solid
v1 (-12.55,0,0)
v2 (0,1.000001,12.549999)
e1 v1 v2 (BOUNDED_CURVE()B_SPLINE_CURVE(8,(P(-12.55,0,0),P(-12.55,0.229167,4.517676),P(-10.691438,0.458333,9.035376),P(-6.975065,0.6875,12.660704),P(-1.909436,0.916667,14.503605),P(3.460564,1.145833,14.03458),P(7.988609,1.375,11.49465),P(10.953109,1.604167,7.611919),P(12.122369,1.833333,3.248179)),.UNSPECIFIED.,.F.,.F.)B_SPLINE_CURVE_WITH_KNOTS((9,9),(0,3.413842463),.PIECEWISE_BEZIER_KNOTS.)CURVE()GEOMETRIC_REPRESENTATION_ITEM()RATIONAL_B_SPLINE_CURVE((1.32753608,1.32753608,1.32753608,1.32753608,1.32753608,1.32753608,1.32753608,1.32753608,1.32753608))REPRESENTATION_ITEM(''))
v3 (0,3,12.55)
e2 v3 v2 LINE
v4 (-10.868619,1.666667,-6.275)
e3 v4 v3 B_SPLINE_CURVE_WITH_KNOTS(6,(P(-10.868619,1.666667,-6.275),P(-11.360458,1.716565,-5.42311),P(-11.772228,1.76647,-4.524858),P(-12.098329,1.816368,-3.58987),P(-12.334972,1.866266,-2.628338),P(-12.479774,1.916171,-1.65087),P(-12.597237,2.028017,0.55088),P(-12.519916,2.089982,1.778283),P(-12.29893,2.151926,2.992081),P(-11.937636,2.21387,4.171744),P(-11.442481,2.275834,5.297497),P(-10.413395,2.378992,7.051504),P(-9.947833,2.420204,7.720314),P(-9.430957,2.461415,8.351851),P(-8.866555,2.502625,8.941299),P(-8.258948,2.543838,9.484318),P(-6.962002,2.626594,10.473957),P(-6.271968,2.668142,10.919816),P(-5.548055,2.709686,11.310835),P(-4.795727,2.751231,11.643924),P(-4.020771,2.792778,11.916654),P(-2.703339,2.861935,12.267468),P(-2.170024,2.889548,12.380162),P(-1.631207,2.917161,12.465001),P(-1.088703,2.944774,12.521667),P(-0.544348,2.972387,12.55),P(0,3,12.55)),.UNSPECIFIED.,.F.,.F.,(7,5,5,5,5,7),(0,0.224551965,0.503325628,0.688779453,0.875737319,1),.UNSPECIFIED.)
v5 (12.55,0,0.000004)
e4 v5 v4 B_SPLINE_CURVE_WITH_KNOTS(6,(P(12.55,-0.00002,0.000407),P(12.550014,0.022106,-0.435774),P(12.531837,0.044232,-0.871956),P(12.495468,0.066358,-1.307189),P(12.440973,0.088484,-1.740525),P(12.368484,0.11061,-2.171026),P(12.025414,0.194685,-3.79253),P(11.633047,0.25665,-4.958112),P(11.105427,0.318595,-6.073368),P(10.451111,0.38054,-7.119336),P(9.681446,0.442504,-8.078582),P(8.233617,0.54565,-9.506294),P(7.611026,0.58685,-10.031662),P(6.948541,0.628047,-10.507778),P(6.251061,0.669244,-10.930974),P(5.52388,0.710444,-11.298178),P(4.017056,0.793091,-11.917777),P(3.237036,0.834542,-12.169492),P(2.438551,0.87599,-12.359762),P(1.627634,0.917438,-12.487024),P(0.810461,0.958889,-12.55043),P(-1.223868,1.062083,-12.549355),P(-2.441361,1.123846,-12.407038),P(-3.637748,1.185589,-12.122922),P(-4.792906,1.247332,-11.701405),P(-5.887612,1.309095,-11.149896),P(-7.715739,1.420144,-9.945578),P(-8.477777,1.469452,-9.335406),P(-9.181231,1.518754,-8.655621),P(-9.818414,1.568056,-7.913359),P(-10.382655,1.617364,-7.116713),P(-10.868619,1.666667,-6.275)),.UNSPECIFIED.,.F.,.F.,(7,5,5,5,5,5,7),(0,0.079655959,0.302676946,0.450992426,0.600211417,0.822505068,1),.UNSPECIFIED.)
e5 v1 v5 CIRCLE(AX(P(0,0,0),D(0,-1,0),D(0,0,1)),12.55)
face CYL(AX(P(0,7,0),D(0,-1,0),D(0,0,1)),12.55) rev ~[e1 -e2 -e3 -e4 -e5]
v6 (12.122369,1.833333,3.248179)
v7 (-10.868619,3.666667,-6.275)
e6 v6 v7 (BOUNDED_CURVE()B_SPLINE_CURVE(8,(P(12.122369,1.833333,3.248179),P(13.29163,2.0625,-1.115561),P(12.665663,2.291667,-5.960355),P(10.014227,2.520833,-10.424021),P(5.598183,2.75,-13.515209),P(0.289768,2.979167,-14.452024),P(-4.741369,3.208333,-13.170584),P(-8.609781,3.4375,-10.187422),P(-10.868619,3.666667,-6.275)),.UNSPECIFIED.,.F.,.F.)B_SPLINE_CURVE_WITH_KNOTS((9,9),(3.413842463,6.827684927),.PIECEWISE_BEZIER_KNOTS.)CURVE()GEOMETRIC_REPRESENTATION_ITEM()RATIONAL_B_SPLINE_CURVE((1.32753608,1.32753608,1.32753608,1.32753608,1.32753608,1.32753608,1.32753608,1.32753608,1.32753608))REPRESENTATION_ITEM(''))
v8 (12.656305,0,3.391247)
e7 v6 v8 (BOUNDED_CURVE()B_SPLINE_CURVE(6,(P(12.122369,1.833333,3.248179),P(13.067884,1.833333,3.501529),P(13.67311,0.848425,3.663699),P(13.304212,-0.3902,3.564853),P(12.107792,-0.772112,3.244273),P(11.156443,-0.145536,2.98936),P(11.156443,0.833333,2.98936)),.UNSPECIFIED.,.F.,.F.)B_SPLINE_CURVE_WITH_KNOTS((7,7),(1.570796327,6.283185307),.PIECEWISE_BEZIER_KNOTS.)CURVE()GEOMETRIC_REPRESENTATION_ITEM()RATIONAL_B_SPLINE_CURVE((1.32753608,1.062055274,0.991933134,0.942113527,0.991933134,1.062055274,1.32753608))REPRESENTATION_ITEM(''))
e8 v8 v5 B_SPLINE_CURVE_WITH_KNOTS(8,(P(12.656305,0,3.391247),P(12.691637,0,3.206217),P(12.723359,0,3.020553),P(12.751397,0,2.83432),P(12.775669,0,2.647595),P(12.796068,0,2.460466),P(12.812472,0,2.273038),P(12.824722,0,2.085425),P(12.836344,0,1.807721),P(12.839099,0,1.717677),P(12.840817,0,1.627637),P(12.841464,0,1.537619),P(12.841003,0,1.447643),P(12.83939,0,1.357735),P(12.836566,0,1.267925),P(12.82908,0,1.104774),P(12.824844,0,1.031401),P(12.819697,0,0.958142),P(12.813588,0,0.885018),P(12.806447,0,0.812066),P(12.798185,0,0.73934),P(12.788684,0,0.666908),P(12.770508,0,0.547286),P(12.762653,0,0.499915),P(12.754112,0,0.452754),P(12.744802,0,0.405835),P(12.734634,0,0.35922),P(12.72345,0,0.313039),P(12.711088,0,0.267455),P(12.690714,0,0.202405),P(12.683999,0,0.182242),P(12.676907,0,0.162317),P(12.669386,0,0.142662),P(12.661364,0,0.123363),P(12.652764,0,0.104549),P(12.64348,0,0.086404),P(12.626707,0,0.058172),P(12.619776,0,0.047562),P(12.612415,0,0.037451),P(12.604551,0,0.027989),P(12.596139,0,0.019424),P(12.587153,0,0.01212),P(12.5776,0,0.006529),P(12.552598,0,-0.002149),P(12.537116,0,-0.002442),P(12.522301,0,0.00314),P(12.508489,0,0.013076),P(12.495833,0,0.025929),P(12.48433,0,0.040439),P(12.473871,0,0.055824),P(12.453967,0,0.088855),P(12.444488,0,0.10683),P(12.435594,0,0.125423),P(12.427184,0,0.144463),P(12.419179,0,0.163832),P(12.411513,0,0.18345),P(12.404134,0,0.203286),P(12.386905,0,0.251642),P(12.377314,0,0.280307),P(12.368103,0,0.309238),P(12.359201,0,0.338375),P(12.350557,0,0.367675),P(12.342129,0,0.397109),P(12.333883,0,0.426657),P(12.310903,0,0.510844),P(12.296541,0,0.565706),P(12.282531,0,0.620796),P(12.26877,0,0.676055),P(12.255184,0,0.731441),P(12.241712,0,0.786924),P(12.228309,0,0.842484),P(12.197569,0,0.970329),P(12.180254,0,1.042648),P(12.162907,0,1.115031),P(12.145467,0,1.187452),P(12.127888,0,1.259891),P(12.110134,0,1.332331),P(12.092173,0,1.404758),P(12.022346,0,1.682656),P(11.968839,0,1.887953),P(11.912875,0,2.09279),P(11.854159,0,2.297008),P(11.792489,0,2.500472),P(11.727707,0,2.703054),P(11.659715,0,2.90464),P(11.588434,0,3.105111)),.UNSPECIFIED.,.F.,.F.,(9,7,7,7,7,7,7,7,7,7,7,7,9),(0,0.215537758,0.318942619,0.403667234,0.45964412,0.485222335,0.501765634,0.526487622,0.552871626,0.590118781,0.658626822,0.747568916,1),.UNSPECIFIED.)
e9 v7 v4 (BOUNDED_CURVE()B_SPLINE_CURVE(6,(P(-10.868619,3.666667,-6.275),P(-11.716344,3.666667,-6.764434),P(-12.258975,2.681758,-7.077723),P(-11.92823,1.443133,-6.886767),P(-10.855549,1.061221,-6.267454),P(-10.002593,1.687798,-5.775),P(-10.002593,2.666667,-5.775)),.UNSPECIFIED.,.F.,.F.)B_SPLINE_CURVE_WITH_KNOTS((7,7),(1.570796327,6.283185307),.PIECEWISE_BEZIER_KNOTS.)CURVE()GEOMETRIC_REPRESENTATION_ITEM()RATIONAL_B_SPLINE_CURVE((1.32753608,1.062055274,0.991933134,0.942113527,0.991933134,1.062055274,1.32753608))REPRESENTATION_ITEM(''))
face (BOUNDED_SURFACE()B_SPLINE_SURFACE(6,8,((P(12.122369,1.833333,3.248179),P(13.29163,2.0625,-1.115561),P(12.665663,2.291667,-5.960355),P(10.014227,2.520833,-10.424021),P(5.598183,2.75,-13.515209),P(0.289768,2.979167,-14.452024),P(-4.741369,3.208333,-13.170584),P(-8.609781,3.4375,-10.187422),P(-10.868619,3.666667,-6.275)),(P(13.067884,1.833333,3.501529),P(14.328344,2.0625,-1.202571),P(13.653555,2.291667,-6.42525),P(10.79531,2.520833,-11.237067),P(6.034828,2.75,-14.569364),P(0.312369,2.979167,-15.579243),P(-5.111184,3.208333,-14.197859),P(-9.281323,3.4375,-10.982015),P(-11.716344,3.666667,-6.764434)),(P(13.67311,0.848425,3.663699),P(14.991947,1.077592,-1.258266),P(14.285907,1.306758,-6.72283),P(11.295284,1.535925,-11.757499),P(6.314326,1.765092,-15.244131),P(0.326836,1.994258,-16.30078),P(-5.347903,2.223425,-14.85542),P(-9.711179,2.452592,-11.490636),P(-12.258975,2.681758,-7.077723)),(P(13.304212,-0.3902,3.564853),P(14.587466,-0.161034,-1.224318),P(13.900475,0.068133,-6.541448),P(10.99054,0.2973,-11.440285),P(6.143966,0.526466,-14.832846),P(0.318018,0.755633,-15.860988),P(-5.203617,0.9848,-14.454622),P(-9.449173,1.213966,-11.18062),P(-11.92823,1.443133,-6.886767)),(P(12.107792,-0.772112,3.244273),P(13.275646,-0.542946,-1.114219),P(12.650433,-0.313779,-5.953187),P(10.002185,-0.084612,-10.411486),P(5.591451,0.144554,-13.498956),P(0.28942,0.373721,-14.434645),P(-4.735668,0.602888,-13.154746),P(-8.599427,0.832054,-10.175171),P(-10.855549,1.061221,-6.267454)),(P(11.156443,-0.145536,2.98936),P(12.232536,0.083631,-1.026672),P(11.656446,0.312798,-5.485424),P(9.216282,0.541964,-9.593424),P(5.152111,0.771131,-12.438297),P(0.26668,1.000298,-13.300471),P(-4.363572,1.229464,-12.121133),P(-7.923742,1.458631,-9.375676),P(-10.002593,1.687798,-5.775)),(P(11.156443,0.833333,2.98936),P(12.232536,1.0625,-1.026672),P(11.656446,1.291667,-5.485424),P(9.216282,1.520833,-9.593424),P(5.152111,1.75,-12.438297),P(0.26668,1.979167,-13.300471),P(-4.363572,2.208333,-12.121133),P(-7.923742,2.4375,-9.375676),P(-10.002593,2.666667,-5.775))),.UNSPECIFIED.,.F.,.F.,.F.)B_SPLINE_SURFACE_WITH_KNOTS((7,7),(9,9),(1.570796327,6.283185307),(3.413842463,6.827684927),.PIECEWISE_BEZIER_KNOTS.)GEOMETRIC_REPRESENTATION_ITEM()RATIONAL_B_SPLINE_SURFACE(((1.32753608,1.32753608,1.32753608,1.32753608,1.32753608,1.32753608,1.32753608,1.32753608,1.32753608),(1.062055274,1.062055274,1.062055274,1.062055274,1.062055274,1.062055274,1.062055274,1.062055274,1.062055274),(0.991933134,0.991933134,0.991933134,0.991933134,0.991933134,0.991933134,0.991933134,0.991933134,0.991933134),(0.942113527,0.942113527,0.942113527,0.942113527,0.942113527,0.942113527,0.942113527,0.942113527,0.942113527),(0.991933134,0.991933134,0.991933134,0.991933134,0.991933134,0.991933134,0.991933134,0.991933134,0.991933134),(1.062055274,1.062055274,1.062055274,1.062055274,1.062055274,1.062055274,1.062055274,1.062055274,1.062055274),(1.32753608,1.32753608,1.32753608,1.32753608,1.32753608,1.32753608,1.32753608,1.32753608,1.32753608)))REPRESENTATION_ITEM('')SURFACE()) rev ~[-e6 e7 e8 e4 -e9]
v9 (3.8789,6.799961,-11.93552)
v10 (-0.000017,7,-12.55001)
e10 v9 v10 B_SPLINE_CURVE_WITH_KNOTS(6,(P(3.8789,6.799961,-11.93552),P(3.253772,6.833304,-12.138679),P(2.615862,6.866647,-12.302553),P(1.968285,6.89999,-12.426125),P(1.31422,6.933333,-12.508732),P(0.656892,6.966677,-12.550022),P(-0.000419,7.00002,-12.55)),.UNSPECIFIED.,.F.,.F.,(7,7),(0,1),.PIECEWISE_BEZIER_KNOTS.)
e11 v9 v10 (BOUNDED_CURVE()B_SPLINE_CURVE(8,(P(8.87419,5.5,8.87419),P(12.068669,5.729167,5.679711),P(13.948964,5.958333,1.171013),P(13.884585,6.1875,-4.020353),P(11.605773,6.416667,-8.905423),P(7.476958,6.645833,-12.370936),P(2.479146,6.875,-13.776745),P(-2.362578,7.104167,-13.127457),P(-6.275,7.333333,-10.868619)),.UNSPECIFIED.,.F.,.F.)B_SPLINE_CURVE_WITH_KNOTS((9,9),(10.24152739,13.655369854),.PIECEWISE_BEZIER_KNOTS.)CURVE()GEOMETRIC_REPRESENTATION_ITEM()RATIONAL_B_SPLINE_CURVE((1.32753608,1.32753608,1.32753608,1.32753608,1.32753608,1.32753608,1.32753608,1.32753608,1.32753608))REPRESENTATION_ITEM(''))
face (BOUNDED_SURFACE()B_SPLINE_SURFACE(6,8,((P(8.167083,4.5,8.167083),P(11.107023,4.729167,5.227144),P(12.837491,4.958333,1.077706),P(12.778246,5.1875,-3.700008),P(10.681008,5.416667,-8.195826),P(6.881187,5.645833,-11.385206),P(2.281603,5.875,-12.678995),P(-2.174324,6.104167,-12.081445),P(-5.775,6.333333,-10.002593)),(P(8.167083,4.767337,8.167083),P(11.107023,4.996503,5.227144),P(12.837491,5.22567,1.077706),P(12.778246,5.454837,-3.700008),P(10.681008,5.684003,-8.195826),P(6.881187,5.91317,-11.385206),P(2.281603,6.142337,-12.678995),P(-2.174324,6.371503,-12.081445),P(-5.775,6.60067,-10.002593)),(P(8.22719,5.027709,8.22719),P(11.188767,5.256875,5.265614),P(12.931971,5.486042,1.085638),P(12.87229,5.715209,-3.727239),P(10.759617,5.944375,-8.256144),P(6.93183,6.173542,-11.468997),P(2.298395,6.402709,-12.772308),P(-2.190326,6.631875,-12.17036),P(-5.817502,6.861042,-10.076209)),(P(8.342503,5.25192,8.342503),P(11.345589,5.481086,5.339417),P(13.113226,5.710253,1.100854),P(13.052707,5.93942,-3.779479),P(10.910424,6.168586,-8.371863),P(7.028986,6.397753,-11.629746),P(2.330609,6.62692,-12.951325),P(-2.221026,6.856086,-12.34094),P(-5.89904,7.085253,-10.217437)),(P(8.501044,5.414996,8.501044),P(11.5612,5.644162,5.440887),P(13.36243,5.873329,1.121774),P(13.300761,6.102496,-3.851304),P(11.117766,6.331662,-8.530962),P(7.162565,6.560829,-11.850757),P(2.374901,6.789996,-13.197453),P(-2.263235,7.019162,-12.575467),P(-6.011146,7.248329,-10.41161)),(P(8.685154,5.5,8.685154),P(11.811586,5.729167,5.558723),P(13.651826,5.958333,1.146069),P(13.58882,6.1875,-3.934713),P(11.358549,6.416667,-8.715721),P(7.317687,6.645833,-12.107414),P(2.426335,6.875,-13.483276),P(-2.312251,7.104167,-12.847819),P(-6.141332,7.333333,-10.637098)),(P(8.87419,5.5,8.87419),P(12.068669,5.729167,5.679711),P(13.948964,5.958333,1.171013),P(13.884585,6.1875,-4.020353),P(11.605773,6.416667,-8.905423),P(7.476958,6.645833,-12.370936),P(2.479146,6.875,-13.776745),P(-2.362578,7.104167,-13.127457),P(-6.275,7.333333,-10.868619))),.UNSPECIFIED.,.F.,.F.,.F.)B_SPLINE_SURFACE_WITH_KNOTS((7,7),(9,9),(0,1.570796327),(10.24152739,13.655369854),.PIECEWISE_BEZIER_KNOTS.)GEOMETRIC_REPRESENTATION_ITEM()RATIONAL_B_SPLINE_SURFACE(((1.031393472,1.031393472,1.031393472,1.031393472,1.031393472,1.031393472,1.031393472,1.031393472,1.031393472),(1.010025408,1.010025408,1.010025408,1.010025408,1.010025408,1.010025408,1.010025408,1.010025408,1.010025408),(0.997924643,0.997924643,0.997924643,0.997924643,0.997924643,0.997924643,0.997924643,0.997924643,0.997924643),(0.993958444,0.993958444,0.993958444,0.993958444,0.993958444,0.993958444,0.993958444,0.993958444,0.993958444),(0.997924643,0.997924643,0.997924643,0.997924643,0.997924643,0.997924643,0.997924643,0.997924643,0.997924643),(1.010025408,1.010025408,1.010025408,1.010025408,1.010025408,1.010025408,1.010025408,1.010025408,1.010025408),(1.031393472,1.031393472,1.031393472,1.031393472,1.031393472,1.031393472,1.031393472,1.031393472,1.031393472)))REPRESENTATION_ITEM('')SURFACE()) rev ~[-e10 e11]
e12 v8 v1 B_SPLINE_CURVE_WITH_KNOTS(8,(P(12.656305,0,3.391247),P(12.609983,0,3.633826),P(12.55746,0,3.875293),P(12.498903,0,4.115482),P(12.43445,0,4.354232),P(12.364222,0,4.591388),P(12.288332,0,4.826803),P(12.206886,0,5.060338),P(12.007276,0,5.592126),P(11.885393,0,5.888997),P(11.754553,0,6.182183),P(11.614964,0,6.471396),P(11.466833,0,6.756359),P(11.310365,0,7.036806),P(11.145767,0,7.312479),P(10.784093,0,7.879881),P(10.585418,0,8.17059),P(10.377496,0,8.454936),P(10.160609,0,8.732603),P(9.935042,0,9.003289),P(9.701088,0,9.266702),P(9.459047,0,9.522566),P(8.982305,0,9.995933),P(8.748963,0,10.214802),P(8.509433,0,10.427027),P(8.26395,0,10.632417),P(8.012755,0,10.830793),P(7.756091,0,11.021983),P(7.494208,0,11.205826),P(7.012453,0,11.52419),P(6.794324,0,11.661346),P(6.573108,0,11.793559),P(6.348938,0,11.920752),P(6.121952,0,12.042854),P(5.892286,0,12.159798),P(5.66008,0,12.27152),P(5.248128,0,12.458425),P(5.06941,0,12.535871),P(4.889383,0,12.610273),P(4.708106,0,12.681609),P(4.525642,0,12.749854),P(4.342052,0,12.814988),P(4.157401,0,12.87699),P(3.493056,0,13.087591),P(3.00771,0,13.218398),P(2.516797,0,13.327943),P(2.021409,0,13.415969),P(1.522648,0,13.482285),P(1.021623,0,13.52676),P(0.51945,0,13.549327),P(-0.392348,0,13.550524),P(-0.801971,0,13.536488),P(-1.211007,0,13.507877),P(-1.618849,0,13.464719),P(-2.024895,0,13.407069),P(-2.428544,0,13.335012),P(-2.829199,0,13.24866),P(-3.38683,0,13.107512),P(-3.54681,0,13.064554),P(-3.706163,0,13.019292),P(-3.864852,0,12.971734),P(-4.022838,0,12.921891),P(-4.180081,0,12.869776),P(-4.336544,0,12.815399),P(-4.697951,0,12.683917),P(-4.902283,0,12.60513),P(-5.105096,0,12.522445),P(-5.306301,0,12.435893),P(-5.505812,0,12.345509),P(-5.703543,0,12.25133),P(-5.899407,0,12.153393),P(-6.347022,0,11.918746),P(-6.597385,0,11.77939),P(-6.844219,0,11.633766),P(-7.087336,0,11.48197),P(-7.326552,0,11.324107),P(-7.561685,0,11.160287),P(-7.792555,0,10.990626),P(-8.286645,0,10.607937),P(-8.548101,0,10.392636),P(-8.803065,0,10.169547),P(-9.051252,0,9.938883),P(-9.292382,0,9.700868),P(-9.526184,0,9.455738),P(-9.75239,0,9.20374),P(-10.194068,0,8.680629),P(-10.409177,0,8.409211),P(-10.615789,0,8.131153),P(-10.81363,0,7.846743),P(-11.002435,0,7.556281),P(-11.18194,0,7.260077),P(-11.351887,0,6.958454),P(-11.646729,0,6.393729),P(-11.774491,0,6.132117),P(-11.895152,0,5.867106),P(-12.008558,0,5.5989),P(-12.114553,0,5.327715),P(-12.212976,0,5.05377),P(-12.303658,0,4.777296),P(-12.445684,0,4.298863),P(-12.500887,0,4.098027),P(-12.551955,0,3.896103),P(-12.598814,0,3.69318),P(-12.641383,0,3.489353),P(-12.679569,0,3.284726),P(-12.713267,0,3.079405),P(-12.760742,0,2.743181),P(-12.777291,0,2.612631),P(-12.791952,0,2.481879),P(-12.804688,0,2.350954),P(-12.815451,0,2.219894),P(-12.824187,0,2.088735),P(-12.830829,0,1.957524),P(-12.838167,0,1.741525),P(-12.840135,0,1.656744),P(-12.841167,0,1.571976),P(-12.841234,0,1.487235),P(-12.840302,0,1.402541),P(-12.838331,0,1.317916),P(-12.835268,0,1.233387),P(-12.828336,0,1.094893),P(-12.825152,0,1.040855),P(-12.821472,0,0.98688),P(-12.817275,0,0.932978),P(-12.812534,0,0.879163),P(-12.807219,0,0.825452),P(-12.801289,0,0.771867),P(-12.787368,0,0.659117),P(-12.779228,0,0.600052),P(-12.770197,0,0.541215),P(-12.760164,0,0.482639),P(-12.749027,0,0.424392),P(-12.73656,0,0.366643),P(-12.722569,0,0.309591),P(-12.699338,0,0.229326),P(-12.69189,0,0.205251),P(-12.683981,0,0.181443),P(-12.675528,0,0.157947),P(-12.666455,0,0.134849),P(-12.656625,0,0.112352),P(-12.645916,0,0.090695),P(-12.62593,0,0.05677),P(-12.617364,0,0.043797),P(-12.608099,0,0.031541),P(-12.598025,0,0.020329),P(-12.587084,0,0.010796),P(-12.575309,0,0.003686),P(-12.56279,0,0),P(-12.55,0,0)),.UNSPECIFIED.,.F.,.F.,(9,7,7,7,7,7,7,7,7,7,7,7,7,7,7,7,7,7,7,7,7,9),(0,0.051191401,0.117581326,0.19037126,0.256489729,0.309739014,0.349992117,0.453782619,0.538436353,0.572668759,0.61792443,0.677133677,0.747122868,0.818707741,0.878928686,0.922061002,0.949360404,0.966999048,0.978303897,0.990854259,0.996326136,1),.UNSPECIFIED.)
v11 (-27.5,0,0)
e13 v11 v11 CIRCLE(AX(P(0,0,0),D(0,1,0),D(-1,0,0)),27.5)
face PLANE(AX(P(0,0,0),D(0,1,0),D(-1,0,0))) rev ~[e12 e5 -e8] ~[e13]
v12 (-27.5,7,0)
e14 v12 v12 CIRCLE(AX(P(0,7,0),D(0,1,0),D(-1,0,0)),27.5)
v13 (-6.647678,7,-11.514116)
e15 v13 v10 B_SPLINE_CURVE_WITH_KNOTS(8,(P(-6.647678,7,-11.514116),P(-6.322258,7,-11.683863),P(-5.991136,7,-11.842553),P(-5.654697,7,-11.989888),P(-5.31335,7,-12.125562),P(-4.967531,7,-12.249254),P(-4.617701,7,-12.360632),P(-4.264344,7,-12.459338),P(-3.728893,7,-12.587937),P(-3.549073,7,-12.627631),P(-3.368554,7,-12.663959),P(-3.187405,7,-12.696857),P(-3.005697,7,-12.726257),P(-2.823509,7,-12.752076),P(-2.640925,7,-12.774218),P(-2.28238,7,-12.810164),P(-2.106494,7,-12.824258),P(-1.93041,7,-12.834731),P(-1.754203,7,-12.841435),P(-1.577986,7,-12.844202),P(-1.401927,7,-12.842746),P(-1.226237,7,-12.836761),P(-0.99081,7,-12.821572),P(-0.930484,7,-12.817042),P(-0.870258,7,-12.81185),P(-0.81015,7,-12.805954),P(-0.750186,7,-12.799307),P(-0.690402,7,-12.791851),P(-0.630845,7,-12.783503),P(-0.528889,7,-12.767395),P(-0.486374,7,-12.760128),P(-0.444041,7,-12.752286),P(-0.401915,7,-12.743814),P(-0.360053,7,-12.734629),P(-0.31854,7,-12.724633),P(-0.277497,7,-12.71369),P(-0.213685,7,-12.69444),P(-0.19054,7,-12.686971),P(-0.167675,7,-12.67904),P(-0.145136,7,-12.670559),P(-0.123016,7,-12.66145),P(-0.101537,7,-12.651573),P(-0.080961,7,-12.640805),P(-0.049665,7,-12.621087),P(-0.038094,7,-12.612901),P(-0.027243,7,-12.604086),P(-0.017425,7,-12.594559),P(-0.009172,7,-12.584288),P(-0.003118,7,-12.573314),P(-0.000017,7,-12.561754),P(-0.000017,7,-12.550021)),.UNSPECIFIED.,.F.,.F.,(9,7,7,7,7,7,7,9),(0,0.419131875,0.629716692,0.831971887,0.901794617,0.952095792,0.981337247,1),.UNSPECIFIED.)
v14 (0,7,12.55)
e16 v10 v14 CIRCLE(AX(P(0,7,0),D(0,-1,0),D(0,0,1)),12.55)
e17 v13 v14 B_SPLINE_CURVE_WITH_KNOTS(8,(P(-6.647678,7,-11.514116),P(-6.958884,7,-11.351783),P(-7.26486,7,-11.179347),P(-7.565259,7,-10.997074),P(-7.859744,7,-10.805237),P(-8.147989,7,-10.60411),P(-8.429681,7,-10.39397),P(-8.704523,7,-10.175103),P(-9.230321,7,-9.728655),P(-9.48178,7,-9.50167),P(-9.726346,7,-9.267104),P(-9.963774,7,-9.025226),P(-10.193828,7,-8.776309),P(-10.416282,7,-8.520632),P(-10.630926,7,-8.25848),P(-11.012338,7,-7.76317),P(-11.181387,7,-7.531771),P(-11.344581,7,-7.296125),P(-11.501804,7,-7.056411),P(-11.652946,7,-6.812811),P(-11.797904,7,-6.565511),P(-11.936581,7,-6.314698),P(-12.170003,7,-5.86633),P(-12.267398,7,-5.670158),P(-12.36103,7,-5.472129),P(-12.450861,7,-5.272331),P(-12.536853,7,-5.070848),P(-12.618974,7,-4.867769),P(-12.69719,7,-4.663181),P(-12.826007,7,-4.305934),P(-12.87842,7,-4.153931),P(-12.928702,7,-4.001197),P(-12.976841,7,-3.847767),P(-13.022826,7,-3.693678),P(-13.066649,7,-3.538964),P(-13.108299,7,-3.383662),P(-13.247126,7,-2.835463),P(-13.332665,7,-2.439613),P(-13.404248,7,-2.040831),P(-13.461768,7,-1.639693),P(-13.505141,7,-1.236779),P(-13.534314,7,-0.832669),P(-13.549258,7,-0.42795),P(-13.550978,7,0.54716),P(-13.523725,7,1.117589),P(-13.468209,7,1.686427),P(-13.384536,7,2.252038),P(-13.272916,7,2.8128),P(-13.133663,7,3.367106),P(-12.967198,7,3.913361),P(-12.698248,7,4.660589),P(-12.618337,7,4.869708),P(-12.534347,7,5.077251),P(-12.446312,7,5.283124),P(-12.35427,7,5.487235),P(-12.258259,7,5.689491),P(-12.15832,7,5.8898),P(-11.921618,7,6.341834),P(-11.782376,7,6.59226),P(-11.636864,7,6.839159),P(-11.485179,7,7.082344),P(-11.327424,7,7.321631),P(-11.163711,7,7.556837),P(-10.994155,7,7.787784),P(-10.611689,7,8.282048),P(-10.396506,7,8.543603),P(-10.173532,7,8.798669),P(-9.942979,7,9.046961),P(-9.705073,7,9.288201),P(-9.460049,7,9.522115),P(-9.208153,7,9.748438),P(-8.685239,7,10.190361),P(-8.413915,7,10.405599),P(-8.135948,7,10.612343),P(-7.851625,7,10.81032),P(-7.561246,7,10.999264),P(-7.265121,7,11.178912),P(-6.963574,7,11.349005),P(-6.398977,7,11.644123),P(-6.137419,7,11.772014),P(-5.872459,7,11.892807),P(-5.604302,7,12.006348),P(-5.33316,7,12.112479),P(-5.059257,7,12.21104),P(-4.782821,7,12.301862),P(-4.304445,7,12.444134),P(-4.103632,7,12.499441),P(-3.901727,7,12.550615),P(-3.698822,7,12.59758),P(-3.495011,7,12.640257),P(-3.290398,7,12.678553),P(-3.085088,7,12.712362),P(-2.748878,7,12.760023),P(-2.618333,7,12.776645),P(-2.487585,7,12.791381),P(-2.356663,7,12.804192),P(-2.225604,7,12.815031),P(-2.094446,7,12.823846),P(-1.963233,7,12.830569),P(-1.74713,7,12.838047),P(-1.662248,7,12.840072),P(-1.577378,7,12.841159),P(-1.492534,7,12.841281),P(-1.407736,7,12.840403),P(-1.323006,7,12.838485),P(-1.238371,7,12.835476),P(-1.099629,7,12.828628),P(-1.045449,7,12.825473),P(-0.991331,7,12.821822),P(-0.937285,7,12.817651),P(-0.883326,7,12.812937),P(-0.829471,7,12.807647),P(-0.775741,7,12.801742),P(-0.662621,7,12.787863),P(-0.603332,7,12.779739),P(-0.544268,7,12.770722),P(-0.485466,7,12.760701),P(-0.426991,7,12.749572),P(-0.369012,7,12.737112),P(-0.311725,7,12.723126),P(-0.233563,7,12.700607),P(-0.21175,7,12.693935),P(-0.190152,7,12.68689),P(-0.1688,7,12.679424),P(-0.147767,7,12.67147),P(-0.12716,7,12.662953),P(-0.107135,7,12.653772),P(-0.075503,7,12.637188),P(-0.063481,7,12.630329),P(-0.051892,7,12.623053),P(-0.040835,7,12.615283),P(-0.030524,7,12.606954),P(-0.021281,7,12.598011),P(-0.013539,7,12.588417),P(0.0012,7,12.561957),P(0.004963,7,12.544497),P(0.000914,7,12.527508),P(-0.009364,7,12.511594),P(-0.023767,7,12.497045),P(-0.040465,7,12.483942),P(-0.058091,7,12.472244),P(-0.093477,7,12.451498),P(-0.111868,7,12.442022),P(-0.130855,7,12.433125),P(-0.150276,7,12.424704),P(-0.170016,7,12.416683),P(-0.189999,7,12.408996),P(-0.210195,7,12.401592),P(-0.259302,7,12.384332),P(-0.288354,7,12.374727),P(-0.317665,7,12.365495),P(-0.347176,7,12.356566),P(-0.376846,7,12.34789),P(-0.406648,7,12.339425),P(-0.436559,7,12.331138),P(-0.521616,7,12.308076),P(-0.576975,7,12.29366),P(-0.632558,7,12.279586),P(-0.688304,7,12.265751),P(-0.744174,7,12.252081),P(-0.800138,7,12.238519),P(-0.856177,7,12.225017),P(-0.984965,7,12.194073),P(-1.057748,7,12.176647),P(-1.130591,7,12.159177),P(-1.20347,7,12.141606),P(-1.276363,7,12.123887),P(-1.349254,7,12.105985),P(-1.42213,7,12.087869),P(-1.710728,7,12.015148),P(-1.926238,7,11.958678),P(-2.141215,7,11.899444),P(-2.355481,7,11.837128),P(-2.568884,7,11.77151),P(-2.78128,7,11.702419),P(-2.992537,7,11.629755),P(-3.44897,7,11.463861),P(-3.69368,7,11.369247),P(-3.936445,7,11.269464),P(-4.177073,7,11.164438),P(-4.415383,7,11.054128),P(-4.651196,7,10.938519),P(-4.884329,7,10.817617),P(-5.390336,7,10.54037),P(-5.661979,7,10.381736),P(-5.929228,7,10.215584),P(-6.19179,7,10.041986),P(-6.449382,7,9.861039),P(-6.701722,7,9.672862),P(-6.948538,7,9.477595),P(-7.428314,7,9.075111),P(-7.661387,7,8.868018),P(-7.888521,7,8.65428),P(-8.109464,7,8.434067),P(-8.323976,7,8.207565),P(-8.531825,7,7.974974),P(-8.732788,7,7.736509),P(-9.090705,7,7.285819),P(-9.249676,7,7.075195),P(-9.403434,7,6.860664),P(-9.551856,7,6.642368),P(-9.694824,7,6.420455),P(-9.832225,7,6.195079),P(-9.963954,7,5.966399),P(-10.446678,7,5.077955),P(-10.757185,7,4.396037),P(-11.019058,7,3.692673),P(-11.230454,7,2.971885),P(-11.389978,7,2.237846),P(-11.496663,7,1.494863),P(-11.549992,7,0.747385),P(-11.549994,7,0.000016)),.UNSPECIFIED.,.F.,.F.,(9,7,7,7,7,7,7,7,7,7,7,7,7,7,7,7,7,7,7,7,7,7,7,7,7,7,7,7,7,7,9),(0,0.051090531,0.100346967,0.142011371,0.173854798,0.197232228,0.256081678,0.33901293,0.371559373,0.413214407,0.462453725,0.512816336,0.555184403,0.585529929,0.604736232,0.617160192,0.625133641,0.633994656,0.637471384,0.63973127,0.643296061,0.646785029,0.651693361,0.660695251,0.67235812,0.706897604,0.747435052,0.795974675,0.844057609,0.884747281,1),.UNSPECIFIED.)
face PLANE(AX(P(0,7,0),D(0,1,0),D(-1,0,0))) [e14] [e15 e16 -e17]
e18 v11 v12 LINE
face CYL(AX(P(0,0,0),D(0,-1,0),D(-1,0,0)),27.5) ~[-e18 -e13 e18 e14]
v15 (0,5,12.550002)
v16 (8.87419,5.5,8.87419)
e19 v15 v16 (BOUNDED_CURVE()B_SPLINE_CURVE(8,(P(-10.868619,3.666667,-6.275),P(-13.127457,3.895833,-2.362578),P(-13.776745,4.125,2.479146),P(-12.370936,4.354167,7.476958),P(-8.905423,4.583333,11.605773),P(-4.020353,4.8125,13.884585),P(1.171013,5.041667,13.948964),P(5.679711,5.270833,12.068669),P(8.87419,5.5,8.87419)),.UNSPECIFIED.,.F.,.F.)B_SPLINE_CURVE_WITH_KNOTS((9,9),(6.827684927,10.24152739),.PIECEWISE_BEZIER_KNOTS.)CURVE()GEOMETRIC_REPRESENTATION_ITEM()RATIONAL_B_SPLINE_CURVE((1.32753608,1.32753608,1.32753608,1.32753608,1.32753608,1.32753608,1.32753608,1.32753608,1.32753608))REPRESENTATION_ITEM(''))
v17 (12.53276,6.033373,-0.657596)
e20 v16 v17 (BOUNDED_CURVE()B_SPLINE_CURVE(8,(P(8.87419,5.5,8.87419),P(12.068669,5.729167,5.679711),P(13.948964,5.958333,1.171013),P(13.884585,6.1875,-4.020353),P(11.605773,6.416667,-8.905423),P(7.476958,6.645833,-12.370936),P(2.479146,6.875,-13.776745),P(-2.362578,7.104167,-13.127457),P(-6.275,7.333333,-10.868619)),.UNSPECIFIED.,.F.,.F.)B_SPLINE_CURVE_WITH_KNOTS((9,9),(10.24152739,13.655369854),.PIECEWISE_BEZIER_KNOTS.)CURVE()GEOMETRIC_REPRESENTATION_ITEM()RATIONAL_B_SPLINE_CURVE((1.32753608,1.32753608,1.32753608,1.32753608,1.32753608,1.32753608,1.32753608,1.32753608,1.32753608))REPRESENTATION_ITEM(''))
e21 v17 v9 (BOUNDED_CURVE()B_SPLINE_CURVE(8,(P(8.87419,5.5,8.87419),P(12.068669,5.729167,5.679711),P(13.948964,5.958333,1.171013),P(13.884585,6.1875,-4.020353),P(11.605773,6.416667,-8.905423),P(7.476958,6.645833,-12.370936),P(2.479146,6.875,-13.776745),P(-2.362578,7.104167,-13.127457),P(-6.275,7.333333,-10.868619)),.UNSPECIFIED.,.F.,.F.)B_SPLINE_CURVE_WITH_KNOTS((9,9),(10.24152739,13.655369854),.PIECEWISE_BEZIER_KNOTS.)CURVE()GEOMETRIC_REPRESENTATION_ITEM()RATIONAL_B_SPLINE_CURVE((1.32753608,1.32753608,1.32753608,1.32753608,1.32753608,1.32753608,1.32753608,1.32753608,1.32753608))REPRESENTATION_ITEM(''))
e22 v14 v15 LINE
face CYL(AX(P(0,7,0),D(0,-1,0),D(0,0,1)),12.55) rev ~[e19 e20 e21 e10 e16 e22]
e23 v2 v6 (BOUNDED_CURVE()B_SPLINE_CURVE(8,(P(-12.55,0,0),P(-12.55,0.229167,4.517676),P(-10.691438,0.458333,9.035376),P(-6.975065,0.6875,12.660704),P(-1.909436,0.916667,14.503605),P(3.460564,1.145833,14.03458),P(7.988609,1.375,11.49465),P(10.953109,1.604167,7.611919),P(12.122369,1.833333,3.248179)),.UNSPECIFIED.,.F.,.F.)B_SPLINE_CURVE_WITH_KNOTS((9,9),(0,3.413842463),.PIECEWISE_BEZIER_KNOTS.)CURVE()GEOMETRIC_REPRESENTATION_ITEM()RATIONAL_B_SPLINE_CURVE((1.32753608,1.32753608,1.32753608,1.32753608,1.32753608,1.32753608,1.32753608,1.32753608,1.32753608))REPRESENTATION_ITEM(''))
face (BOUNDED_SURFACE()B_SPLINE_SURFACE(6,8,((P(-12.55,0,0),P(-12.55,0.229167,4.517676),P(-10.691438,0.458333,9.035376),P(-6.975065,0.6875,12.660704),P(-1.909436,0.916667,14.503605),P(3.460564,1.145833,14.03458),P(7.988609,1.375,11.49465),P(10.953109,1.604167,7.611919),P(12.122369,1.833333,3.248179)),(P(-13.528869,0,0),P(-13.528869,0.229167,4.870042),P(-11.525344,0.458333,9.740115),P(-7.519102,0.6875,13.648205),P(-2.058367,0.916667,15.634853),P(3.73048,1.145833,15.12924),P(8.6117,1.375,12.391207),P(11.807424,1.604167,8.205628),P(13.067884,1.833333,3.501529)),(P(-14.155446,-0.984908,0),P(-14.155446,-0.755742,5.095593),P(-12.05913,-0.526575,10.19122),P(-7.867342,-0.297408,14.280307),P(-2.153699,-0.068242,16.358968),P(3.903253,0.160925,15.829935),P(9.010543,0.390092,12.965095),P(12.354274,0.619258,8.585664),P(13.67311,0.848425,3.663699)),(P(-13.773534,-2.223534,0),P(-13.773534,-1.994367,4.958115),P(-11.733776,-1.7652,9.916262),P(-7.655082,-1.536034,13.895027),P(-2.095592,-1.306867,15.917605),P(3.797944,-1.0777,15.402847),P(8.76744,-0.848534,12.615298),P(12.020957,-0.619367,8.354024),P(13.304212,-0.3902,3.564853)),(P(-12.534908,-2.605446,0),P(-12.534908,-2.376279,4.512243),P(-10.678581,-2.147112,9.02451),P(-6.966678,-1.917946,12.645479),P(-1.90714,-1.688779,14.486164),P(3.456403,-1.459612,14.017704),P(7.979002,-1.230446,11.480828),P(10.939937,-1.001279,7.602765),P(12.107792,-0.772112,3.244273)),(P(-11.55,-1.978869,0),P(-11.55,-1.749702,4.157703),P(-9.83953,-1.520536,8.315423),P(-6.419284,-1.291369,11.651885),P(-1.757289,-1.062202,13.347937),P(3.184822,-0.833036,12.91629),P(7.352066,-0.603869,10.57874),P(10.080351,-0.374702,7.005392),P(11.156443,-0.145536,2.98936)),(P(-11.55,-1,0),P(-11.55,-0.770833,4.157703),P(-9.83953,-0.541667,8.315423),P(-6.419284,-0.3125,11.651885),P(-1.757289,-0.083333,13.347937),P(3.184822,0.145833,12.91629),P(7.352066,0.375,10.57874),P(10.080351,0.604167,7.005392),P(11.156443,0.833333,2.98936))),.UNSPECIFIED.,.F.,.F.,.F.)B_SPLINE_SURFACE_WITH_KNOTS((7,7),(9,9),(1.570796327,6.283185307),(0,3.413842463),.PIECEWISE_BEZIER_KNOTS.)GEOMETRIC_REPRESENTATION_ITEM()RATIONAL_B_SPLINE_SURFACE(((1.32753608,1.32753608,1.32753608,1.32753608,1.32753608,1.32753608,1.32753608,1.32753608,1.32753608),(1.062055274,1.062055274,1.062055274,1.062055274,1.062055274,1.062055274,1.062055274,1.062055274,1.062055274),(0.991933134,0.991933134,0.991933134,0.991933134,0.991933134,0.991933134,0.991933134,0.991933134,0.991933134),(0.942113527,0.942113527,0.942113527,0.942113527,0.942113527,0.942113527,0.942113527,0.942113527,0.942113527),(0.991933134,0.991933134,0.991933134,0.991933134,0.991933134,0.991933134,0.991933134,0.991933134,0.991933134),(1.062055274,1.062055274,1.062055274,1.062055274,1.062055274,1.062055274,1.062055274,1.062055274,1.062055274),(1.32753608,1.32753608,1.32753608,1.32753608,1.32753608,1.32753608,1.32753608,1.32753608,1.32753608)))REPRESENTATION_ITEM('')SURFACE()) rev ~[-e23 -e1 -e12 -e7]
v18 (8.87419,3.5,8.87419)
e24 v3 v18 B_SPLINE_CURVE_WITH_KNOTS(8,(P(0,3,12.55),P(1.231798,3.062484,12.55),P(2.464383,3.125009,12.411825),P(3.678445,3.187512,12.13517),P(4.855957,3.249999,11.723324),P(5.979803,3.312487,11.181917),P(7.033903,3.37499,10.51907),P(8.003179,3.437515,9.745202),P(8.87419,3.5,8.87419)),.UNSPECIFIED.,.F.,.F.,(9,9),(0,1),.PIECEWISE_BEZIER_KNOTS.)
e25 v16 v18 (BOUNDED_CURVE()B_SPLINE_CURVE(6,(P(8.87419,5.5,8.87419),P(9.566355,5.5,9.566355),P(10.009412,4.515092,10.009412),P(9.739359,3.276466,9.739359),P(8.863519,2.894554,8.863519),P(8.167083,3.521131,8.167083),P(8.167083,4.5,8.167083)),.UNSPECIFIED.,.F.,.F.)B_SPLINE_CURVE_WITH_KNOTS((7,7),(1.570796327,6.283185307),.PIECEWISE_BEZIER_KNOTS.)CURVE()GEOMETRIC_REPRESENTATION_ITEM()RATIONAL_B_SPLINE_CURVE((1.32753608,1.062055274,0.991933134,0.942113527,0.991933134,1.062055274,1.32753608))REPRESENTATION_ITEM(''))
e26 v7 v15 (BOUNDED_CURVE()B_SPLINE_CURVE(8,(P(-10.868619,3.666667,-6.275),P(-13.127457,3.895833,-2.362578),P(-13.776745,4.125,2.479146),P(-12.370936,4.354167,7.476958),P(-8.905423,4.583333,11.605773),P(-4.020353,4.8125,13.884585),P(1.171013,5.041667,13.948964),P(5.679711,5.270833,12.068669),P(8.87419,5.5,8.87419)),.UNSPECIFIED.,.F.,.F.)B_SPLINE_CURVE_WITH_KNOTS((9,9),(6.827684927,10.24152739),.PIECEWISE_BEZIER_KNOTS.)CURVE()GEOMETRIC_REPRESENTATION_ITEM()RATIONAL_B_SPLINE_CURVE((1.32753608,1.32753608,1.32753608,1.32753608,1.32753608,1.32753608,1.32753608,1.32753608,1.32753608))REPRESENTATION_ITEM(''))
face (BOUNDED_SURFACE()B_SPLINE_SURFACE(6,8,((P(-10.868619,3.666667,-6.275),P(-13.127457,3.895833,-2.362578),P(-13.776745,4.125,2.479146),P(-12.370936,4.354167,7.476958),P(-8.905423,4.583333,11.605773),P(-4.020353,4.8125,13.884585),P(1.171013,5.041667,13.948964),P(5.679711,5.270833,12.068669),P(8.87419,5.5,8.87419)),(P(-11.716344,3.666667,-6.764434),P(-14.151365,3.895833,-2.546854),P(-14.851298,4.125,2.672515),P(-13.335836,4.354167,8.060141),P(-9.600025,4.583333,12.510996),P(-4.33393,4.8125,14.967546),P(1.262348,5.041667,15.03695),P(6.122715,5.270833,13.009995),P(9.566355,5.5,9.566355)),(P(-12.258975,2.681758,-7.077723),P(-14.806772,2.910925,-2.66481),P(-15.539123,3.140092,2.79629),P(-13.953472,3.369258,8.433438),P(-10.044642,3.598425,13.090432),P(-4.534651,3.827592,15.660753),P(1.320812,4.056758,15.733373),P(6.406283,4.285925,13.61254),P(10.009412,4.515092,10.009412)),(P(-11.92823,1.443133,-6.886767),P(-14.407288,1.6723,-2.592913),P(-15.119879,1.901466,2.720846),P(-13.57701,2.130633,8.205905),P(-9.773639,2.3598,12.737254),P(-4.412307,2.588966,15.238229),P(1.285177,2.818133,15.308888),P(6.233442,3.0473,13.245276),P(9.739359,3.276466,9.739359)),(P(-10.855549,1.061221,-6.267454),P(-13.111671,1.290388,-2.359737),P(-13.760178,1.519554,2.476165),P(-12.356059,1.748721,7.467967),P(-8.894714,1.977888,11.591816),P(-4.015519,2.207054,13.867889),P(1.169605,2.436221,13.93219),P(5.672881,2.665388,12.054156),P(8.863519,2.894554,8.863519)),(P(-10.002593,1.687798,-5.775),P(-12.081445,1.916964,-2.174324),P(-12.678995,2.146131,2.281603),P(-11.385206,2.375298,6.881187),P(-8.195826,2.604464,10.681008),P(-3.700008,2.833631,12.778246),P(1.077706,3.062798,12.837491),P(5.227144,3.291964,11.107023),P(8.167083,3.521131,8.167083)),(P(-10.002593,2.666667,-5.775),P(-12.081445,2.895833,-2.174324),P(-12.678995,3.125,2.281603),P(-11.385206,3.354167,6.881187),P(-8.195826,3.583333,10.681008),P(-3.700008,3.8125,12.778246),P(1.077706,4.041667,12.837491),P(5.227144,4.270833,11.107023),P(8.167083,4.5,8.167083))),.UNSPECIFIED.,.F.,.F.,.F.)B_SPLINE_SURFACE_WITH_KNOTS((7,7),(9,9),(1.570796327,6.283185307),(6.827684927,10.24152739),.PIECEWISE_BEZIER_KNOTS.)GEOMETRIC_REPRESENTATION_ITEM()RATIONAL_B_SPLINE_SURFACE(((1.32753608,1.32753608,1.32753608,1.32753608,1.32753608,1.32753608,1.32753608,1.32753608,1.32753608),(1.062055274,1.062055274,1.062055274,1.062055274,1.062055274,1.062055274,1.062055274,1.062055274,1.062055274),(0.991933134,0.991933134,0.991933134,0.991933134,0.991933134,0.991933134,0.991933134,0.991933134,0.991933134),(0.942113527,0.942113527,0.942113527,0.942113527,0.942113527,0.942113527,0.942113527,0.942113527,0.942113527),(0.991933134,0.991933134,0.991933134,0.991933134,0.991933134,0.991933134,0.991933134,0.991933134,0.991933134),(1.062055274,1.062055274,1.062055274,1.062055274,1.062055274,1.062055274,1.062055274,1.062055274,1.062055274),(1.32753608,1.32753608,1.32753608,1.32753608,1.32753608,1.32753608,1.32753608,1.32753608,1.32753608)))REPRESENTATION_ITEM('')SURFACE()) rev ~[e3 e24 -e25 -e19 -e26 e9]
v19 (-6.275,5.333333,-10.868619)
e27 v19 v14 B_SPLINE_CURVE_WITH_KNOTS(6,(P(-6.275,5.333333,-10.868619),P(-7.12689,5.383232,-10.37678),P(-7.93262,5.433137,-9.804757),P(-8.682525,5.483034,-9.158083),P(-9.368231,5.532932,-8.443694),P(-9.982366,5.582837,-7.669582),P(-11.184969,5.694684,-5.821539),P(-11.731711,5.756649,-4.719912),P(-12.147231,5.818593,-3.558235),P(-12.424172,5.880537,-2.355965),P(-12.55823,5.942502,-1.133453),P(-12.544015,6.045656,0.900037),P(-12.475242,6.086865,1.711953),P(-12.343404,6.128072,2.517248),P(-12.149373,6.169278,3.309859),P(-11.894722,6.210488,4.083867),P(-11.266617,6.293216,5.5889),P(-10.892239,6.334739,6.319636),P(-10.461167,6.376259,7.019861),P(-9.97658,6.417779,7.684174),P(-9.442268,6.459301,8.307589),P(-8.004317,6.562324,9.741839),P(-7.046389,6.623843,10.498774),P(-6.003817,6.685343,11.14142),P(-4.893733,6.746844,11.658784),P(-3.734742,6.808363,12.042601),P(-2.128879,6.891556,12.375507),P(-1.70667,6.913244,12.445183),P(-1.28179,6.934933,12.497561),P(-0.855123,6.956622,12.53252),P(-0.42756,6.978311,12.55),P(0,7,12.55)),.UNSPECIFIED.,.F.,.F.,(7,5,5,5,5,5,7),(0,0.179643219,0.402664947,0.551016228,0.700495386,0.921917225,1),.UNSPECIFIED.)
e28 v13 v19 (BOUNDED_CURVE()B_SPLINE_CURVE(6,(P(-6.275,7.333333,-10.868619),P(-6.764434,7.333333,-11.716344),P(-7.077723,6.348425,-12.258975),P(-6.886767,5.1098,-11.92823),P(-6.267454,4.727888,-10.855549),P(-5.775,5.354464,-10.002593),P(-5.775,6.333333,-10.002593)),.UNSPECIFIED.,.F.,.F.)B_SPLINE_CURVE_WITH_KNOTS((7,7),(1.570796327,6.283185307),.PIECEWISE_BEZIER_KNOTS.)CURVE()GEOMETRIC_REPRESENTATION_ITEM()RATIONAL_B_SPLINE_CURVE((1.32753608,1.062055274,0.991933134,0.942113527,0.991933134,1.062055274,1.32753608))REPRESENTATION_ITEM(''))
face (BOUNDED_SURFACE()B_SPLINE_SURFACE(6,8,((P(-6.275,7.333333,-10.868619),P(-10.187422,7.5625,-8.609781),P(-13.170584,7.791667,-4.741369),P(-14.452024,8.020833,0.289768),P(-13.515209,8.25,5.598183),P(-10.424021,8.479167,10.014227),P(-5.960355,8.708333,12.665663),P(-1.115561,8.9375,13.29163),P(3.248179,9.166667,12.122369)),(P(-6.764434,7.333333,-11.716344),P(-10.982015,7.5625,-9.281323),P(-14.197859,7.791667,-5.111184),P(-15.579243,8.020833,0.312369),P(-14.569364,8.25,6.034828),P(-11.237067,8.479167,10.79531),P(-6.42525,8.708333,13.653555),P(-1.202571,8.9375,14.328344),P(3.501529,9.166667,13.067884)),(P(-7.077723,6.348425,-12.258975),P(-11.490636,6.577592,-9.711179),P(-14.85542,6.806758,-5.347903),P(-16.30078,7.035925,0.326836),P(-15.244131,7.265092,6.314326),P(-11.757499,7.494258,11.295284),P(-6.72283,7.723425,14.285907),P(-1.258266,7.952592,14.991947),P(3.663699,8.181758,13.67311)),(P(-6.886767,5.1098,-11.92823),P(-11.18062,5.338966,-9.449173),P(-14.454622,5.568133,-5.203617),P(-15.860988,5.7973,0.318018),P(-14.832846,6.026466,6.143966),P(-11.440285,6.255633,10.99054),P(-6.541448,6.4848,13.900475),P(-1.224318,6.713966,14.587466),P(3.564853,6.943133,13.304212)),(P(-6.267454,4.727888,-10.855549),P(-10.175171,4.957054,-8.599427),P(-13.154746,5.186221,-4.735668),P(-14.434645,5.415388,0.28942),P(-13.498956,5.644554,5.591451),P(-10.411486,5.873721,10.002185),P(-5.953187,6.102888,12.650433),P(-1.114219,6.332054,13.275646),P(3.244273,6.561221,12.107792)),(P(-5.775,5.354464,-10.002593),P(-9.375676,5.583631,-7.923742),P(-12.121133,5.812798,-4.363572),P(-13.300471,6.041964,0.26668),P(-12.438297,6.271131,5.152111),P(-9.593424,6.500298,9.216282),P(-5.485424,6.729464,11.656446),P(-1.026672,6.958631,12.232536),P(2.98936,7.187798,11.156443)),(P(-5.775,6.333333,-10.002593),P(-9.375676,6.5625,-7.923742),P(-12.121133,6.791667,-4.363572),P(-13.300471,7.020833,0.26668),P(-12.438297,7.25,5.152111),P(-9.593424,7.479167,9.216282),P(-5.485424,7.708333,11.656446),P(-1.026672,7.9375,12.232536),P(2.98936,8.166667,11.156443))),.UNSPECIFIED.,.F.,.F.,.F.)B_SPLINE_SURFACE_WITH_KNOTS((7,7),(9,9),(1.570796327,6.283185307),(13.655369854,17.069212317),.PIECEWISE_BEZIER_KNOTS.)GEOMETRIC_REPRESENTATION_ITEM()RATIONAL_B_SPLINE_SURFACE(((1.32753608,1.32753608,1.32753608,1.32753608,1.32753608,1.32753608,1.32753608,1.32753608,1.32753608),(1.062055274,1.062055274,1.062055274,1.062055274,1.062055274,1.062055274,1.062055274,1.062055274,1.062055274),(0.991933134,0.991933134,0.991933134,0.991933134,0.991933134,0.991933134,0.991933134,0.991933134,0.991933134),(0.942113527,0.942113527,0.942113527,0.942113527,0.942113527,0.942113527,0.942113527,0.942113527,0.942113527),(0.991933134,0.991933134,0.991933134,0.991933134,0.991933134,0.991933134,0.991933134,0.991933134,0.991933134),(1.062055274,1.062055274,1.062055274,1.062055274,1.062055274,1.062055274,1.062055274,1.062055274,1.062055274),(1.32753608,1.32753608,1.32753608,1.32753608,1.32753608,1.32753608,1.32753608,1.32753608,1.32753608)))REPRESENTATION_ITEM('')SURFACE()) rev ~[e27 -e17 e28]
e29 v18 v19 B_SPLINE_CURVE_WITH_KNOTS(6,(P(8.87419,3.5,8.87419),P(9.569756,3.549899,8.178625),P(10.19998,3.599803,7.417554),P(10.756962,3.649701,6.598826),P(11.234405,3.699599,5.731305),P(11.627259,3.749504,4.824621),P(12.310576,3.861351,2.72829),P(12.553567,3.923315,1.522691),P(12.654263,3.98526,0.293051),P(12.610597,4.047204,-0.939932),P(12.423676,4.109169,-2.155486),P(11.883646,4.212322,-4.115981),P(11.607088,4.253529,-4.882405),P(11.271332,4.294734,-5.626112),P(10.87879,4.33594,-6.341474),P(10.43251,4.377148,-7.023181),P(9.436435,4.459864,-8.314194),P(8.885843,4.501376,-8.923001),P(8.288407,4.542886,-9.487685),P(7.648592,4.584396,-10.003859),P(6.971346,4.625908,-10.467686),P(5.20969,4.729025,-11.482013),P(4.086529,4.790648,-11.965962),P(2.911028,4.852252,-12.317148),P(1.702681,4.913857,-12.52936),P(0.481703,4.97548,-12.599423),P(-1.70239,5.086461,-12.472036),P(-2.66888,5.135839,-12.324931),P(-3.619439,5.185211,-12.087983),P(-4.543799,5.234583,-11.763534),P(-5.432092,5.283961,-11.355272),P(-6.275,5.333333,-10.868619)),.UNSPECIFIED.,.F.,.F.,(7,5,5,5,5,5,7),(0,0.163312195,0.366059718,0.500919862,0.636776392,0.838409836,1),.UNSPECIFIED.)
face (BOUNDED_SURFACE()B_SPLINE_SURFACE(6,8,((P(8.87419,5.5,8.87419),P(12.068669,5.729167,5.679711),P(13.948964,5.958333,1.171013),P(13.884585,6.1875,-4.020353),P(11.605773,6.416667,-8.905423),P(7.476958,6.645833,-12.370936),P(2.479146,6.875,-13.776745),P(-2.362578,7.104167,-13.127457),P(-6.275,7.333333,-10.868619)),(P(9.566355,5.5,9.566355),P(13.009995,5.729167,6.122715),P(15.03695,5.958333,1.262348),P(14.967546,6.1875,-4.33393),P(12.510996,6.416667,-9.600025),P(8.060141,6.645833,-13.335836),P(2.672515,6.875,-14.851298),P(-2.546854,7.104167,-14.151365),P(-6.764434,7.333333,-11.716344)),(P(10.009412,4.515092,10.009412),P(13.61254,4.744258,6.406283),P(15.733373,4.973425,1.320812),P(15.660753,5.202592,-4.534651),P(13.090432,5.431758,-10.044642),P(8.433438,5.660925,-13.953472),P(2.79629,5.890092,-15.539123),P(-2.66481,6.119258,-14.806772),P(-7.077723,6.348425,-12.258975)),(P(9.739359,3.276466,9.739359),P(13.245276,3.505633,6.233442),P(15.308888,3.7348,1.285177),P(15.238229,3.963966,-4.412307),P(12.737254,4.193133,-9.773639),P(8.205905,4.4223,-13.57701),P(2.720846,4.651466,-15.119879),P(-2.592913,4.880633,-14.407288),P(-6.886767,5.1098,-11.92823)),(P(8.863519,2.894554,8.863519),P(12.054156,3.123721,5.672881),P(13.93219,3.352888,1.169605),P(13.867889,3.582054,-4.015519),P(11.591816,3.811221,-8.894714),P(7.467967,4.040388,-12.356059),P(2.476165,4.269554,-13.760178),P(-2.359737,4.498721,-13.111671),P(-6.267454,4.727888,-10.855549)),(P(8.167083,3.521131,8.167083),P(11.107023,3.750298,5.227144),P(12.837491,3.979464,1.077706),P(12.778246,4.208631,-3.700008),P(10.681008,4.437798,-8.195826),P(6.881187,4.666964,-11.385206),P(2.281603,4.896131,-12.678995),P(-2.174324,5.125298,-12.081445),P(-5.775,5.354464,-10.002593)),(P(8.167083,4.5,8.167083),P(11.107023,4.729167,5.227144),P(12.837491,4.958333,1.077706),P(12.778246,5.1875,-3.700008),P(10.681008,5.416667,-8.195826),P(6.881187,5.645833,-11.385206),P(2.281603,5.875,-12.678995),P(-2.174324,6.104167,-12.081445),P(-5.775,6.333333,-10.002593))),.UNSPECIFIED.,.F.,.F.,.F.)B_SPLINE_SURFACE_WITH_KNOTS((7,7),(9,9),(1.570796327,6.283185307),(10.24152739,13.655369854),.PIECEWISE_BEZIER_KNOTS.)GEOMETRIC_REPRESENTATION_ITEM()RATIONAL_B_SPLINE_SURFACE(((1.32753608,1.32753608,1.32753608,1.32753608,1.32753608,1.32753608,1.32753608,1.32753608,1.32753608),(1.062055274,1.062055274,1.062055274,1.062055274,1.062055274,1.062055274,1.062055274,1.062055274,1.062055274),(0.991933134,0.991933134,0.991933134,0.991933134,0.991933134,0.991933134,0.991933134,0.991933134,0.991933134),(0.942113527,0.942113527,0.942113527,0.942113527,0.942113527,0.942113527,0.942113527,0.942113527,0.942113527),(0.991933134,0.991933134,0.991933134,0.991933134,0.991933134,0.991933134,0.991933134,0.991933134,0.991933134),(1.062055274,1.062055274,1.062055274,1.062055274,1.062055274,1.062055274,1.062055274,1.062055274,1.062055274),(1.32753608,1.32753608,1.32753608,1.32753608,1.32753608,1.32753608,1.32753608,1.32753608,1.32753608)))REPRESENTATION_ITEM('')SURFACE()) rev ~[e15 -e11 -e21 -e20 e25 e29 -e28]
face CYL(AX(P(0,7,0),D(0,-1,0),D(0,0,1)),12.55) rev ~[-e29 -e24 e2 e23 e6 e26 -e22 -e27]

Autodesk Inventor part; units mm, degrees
ref_plane "YZ Plane" through (0, 0, 0) normal (1, 0, 0) x (0, 1, 0)
ref_plane "XZ Plane" through (0, 0, 0) normal (0, 1, 0) x (-1, 0, 0)
ref_plane "XY Plane" through (0, 0, 0) normal (0, 0, 1) x (1, 0, 0)
sketch "Sketch1" plane through (0, 0, 0) normal (0, 1, 0) x (-1, 0, 0)
  circle A0 centre (0, 0) radius 27.5
  dimension "d0" = 55
extrude "Extrusion1" add sketch "Sketch1" along normal blind 7
sketch "Sketch2" plane through (0, 7, 0) normal (0, 1, 0) x (1, 0, 0)
  circle A0 centre (0, 0) radius 27.5 projected
hole "Hole1" at (0, 7, 0) direction (0, -1, 0) diameter 25.1 end through all
sketch "Sketch9" plane through (0, 0, 0) normal (0, 0, 1) x (1, 0, 0)
  circle A0 centre (-12.55, -1) radius 1
  line L0 (12.55, 0) -> (-12.55, 0) projected
  point P0 (0, 0)
  dimension "d52" = 2
  dimension "d53" = 1
coil "Coil4" sketch "Sketch9" operation cut axis through (0, -10, 0) along (0, 1, 0) pitch 4 turns 2.75 hand right
properties part number "screwspoolv2"
